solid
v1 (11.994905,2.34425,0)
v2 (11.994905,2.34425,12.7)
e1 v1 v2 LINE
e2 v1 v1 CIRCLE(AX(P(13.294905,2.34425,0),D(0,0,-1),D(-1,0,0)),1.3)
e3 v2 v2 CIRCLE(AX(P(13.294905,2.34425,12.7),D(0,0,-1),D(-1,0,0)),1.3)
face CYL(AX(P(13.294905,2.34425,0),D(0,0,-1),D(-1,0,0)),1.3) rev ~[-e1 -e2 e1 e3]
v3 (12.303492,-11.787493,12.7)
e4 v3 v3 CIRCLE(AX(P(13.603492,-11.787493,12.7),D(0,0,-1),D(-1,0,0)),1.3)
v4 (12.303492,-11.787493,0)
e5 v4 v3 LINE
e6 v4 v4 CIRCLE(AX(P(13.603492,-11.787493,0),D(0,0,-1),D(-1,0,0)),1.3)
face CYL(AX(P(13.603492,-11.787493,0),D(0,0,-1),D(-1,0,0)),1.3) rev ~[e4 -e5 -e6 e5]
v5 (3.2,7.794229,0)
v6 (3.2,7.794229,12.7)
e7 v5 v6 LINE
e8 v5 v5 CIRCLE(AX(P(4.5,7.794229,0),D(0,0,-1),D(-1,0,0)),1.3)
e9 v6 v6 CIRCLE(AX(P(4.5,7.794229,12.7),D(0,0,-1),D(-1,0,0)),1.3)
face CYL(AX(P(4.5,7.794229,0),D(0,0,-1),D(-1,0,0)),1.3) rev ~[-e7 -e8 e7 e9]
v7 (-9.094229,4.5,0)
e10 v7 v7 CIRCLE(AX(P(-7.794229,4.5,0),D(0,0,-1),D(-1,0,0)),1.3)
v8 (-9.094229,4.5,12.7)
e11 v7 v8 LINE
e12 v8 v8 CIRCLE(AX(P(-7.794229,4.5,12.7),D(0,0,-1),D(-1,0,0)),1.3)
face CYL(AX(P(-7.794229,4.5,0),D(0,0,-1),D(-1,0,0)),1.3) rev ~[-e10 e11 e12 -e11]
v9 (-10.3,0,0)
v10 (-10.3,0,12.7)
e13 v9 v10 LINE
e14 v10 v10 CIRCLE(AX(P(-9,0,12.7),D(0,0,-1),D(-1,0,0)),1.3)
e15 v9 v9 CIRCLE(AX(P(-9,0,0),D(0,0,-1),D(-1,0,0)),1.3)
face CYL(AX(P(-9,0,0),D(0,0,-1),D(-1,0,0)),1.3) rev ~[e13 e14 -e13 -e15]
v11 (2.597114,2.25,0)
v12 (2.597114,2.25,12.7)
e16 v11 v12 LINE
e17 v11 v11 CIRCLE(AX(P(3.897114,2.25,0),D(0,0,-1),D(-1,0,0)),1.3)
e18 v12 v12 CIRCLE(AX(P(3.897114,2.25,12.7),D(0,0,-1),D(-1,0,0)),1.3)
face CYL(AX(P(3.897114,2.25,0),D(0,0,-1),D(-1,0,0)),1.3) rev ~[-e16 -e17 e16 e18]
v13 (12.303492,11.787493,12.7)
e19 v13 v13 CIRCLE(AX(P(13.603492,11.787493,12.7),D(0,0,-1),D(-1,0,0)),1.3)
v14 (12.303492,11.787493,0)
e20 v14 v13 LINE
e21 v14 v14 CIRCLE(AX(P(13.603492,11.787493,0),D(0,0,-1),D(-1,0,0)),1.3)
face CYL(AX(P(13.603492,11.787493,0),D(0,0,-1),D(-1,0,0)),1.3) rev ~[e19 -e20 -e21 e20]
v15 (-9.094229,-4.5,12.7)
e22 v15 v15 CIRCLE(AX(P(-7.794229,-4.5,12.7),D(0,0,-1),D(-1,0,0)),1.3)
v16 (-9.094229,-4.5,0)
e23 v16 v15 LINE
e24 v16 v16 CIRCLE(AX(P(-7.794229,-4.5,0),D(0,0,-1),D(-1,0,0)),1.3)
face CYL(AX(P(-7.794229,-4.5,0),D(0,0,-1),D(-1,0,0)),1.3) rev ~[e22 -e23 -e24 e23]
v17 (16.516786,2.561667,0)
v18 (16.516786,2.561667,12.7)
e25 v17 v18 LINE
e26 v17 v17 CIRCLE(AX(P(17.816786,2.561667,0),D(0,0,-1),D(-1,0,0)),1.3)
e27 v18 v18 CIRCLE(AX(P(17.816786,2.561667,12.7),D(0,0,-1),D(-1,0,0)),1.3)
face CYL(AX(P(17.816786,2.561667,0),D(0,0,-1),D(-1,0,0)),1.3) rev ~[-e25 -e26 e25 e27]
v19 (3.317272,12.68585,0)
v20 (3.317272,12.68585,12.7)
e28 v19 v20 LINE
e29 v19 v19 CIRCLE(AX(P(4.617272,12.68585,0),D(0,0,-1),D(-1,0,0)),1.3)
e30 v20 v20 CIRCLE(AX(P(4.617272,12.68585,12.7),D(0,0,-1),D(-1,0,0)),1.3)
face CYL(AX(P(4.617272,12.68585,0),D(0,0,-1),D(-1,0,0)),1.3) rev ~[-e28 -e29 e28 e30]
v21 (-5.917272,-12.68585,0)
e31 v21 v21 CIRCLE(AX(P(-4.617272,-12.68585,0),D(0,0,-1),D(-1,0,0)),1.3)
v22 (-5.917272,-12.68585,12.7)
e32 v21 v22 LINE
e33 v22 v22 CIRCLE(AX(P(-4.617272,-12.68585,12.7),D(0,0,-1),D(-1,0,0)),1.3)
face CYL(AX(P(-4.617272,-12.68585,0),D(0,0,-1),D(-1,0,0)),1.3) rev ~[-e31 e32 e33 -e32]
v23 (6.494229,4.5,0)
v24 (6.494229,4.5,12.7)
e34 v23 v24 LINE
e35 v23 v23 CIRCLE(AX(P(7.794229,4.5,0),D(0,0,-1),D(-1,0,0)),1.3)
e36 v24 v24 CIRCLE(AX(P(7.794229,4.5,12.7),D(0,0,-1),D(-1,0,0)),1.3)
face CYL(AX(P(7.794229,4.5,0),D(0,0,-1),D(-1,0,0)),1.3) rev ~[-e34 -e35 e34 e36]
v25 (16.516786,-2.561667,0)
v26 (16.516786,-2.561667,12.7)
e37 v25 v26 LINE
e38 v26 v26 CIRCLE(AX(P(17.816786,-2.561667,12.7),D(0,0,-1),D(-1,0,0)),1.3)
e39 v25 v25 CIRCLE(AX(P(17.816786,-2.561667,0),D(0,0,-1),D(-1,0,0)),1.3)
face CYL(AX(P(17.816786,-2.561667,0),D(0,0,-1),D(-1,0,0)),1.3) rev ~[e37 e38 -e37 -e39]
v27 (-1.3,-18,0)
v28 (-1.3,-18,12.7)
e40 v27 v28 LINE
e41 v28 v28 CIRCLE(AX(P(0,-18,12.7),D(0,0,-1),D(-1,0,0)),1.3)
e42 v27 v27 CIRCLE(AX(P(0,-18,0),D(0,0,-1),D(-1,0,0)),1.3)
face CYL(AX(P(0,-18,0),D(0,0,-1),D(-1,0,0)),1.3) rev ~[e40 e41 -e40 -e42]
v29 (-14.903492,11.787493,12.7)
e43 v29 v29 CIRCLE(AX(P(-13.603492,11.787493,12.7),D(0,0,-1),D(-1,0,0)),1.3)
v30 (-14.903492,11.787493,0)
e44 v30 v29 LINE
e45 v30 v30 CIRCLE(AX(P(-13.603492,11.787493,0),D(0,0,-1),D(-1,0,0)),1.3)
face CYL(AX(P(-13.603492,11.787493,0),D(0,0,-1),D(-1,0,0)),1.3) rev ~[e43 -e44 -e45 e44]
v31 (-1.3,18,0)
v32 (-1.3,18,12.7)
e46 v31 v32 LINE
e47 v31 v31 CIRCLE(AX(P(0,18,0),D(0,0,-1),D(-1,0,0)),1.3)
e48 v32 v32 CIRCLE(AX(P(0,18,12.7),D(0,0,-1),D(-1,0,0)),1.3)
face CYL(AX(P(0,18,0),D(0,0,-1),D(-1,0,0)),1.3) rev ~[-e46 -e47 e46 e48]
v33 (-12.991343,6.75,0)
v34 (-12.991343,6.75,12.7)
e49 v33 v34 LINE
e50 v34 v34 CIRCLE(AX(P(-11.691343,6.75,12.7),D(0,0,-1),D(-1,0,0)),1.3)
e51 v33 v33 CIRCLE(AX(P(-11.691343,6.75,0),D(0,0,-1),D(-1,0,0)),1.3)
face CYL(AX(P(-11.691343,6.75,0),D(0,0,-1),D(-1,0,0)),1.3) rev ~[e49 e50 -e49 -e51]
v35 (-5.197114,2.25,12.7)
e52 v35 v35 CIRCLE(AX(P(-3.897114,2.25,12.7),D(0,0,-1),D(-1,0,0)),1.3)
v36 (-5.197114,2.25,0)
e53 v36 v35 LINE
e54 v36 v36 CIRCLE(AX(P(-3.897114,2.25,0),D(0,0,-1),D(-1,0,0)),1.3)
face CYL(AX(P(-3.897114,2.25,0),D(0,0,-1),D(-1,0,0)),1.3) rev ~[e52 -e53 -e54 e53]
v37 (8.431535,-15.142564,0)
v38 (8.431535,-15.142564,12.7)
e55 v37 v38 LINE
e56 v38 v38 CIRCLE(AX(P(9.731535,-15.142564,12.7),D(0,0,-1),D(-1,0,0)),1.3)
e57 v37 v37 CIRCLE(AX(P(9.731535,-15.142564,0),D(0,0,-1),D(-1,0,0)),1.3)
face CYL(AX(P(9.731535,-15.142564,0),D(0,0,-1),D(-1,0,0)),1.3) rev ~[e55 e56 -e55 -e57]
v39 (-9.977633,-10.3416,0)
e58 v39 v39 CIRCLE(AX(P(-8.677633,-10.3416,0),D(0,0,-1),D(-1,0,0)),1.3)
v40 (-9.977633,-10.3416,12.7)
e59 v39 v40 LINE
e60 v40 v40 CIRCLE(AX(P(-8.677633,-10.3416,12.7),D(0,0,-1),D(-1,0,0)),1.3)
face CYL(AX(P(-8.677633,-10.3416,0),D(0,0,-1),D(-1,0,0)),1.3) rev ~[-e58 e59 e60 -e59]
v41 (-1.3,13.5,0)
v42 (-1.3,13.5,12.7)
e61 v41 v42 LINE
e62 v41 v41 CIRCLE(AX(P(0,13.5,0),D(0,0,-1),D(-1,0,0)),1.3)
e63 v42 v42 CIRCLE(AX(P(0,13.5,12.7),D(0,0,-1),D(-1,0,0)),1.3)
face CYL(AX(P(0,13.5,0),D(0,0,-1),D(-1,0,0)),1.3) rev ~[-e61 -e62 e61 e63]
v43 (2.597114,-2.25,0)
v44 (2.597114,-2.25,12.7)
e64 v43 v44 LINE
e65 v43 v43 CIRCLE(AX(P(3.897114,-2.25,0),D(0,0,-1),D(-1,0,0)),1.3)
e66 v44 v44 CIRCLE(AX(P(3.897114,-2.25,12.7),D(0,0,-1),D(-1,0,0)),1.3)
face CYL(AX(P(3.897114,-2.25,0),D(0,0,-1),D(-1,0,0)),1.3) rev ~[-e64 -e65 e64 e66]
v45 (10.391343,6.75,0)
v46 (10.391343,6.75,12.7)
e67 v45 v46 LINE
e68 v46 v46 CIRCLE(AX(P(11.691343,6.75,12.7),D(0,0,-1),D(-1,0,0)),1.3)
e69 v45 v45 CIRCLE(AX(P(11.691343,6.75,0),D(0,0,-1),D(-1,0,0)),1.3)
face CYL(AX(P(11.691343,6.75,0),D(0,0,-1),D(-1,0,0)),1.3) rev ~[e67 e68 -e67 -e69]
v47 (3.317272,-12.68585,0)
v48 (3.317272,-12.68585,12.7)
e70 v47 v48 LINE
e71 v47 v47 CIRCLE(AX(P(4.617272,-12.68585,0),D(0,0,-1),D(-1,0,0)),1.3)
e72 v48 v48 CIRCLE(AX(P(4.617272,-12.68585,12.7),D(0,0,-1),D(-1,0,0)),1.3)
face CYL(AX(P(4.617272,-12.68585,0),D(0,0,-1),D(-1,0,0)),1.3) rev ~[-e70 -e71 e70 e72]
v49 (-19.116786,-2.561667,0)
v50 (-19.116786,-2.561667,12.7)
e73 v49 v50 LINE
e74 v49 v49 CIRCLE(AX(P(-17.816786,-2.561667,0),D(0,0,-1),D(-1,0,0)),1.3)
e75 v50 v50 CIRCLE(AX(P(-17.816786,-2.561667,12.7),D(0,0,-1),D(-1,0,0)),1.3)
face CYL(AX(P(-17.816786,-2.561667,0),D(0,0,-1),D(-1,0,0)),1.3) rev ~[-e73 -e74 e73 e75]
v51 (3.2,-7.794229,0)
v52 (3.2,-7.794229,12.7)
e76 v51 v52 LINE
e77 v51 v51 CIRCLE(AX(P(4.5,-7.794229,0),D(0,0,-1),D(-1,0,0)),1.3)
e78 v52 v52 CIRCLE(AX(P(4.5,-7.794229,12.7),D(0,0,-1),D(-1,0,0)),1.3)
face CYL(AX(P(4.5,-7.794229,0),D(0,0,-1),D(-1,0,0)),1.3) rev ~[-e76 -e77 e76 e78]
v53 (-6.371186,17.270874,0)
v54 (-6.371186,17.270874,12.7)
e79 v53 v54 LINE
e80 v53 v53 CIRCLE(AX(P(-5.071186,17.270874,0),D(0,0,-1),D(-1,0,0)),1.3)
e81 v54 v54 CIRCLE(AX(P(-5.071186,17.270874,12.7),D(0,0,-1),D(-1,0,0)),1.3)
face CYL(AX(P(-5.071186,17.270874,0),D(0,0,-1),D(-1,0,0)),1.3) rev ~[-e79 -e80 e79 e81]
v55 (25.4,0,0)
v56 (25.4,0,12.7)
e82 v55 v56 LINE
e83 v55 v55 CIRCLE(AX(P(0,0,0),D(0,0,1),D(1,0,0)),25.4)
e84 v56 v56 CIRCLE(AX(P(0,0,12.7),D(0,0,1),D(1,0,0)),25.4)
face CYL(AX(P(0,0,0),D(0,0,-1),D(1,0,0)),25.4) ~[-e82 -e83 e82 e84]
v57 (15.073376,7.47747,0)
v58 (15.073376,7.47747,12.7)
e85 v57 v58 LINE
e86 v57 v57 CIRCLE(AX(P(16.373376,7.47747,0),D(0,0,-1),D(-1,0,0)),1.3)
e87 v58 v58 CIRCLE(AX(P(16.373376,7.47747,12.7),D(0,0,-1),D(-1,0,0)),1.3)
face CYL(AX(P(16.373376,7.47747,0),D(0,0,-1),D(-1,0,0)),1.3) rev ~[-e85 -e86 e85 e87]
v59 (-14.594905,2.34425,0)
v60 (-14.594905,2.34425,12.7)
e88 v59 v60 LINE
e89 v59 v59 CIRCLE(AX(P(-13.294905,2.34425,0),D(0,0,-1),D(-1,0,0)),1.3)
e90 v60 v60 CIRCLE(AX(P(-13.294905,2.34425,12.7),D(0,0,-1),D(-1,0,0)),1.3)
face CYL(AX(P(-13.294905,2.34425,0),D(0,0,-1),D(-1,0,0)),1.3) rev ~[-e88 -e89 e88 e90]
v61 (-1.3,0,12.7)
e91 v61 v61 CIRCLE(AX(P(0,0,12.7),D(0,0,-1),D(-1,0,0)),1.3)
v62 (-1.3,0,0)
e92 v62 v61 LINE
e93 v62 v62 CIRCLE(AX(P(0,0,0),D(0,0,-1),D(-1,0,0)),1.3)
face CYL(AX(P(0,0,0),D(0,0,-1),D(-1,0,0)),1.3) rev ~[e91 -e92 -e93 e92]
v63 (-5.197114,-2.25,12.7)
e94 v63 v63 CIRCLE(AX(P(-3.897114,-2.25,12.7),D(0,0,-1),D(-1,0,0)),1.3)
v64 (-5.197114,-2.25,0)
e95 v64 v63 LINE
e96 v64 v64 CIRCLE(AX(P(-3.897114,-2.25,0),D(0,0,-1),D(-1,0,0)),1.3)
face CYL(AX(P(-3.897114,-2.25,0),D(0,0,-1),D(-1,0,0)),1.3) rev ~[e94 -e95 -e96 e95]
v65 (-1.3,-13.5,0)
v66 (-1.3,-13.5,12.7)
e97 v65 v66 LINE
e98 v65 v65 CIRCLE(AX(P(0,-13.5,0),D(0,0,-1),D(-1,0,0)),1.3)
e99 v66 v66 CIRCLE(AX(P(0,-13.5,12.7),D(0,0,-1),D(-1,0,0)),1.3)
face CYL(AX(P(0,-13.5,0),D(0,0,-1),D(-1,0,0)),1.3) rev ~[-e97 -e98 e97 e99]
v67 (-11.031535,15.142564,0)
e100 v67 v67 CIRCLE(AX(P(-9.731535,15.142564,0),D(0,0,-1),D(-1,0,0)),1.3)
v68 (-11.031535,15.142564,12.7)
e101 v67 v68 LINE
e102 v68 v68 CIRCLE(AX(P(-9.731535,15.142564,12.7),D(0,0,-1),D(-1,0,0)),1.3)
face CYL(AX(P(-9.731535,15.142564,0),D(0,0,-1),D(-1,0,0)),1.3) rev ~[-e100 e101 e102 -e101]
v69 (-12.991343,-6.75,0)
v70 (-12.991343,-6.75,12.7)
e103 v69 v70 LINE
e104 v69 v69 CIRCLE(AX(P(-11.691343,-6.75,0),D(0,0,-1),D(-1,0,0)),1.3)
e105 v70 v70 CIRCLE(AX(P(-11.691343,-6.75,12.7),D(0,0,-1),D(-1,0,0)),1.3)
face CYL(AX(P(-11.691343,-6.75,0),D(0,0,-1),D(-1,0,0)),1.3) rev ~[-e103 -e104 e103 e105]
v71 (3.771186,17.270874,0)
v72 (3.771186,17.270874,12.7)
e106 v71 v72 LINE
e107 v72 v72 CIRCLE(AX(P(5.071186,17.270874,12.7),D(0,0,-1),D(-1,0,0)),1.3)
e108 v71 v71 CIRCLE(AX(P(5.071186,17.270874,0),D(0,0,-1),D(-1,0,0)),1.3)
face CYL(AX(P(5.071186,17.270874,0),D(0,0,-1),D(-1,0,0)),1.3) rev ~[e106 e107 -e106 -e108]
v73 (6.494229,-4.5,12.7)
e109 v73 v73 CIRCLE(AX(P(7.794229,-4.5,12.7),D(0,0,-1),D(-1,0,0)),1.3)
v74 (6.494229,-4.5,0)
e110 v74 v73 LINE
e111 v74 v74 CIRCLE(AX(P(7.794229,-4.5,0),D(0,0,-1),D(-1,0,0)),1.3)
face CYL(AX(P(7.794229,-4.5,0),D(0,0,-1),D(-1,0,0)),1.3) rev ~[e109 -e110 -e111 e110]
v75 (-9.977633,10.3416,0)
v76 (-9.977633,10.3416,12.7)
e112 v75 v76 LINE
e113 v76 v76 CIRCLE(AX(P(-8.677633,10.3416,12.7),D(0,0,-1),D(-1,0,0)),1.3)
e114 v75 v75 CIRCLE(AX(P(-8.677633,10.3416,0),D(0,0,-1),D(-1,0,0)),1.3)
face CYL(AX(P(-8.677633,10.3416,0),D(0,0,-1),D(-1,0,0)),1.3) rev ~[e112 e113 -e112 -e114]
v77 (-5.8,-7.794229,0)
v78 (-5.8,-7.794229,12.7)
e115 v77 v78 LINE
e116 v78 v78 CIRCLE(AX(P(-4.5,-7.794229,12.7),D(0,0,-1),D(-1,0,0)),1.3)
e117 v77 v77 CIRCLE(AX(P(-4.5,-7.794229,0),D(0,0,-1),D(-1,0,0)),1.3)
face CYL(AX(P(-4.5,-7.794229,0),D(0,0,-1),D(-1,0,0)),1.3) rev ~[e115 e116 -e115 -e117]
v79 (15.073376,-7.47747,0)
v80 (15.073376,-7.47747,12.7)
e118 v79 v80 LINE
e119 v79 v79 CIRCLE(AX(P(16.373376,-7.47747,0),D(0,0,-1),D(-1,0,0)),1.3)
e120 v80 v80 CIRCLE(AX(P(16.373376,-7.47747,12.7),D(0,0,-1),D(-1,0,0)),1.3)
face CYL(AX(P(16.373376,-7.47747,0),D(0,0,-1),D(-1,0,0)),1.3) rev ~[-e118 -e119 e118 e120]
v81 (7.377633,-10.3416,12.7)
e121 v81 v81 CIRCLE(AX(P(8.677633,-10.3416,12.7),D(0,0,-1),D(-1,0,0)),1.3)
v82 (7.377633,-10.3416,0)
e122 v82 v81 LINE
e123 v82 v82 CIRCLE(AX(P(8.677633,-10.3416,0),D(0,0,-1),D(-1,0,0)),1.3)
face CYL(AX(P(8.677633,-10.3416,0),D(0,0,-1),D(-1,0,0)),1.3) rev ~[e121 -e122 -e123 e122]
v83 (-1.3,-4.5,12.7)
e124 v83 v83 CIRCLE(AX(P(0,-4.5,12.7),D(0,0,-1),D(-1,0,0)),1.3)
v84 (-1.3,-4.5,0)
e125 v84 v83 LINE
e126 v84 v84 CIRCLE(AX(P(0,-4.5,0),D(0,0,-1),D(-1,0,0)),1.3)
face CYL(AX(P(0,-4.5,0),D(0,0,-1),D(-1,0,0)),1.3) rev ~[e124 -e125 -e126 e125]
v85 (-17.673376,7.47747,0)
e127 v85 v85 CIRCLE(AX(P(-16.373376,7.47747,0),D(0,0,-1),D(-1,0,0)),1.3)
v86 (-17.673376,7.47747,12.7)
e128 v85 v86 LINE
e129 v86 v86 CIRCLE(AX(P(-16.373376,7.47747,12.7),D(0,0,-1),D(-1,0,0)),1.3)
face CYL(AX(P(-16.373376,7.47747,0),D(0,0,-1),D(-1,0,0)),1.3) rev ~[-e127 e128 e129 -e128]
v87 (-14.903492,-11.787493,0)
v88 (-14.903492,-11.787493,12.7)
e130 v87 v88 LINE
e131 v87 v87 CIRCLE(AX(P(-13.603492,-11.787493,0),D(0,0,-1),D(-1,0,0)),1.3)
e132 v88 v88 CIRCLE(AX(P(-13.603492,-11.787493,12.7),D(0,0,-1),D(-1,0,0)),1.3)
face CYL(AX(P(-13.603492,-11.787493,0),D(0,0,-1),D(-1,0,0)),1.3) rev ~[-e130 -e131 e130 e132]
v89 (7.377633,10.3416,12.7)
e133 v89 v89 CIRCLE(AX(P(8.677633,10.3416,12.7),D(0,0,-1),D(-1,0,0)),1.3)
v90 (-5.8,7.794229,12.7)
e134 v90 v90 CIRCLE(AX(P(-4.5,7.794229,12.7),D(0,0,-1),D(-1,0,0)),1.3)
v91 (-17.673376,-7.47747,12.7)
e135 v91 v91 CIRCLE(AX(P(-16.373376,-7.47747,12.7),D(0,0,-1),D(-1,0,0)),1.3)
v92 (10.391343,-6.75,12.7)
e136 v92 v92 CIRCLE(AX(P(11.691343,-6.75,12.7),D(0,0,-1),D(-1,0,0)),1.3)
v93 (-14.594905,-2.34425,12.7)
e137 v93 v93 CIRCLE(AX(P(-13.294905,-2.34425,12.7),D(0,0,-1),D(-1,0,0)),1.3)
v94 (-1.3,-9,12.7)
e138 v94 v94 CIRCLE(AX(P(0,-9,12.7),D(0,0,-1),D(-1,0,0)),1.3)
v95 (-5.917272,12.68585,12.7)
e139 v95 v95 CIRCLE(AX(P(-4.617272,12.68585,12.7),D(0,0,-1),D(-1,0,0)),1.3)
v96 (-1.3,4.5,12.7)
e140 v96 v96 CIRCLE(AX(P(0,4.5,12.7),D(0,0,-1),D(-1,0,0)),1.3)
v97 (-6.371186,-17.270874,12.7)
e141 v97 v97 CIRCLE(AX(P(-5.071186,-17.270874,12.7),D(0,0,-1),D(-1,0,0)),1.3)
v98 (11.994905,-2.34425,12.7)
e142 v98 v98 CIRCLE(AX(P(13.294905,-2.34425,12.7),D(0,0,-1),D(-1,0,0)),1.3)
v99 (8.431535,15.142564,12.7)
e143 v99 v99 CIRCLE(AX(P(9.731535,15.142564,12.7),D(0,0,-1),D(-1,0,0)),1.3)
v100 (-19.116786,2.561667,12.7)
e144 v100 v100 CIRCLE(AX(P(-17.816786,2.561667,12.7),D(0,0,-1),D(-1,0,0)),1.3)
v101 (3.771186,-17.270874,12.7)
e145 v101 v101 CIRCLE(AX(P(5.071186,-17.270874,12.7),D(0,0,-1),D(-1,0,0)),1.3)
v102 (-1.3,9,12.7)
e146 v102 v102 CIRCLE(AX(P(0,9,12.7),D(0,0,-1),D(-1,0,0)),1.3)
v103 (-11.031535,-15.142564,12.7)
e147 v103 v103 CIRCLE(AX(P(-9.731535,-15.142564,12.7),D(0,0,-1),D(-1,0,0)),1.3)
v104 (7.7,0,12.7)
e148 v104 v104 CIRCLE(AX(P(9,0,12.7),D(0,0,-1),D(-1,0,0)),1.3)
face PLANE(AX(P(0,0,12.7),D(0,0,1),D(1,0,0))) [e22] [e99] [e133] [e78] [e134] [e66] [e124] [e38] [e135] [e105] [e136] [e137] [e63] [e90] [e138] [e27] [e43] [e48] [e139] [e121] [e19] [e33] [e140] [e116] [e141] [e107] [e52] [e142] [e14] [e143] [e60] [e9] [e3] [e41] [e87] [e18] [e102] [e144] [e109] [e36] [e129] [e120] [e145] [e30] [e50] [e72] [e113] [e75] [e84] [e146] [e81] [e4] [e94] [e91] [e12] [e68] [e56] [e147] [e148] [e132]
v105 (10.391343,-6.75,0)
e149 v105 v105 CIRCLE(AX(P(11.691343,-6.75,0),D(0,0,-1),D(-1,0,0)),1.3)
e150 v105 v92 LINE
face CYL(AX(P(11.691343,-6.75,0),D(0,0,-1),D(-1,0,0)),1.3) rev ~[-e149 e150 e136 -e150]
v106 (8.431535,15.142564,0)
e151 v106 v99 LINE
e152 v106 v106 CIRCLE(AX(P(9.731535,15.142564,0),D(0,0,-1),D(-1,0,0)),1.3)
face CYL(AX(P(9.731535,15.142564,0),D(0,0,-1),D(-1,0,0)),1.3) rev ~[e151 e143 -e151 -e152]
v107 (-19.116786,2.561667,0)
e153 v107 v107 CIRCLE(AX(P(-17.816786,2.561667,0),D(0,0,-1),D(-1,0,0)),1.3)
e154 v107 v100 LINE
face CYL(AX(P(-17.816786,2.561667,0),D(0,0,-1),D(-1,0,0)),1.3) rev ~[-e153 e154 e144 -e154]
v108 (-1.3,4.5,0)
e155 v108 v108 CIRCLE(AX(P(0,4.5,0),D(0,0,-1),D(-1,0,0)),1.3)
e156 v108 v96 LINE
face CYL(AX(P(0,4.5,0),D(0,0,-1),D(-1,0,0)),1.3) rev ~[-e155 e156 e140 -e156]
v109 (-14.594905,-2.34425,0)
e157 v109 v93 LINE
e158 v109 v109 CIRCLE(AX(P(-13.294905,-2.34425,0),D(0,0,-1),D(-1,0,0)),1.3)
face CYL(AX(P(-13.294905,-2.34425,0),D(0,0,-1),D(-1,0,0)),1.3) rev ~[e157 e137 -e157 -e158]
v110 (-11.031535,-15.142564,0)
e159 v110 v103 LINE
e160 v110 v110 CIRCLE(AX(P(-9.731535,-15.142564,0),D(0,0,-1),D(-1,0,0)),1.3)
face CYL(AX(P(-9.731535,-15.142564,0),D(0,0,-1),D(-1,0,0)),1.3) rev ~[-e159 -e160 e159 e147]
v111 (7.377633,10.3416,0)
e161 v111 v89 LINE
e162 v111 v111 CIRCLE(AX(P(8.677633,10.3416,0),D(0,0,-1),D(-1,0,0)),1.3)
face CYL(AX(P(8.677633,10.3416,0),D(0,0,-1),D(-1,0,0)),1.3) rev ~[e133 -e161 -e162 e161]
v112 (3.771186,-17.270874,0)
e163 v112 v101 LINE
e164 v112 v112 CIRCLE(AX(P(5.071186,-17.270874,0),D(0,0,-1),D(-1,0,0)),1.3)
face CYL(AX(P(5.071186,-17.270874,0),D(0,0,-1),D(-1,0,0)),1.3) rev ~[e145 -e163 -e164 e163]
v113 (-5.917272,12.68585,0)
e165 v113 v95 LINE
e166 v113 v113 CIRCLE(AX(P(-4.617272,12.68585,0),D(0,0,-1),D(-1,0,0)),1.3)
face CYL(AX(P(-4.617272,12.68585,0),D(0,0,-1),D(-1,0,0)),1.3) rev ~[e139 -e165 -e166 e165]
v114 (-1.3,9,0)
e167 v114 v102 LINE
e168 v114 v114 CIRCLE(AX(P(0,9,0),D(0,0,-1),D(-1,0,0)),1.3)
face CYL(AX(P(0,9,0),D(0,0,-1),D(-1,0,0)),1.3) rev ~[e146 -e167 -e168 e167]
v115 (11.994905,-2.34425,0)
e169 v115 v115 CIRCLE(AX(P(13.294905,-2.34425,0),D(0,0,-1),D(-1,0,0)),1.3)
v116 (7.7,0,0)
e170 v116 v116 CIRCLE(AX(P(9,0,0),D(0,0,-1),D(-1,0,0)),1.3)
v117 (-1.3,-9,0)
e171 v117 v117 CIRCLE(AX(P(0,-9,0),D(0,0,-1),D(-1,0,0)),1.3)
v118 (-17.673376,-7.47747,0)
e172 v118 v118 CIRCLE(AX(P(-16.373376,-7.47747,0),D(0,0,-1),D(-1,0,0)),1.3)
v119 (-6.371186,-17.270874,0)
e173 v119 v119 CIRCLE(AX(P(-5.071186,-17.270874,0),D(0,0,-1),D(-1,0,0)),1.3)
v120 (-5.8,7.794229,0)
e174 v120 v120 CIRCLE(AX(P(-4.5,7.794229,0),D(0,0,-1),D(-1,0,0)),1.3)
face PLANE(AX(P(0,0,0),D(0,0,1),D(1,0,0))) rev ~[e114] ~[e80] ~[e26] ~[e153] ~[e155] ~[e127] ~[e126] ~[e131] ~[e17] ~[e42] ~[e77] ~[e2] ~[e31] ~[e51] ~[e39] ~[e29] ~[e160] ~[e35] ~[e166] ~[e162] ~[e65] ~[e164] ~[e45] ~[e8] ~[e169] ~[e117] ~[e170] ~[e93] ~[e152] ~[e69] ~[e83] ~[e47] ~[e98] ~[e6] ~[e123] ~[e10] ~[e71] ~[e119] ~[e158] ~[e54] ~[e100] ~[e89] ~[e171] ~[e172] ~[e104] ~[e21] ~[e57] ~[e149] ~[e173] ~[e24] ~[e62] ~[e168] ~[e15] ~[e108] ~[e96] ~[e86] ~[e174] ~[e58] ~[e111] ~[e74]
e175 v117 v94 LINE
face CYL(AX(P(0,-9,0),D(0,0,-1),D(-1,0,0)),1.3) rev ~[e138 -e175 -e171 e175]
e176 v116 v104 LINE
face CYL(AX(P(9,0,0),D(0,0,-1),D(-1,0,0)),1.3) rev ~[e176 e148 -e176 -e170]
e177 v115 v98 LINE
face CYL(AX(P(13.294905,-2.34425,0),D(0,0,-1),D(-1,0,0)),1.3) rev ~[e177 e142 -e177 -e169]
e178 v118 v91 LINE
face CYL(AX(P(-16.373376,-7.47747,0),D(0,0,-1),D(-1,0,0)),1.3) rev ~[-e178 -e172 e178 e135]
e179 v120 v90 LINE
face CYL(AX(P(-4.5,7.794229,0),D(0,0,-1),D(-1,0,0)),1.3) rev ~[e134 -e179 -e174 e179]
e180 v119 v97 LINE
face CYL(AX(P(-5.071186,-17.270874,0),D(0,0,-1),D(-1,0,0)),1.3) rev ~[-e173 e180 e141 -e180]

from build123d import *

# Parameters (mm, degrees)
ESQUISSE1_R             = 25.4
BOSS_EXTRU_1_DEPTH      = 12.7
ESQUISSE2_R             = 1.3
ENL_V_MAT_EXTRU_1_DEPTH = 12.7


with BuildPart() as part:
    # Esquisse1 → Boss.-Extru.1 (new body)
    with BuildSketch(Plane.XY):
        Circle(ESQUISSE1_R)
    extrude(amount=BOSS_EXTRU_1_DEPTH)

    # Esquisse2 → Enlèv. mat.-Extru.1 (cut)
    with BuildSketch(Plane(origin=(0, 0, 0), x_dir=(-1, 0, 0), z_dir=(0, 0, -1))):
        Circle(ESQUISSE2_R)
        with Locations((0, 4.5)):
            Circle(ESQUISSE2_R)
        with Locations((0, 9)):
            Circle(ESQUISSE2_R)
        with Locations((0, 13.5)):
            Circle(ESQUISSE2_R)
        with Locations((0, 18)):
            Circle(ESQUISSE2_R)
        with Locations((3.897114317, 2.25)):
            Circle(ESQUISSE2_R)
        with Locations((3.897114317, -2.25)):
            Circle(ESQUISSE2_R)
        with Locations((0, -4.5)):
            Circle(ESQUISSE2_R)
        with Locations((-3.897114317, -2.25)):
            Circle(ESQUISSE2_R)
        with Locations((-3.897114317, 2.25)):
            Circle(ESQUISSE2_R)
        with Locations((4.5, 7.794228634)):
            Circle(ESQUISSE2_R)
        with Locations((7.794228634, 4.5)):
            Circle(ESQUISSE2_R)
        with Locations((9, 0)):
            Circle(ESQUISSE2_R)
        with Locations((7.794228634, -4.5)):
            Circle(ESQUISSE2_R)
        with Locations((4.5, -7.794228634)):
            Circle(ESQUISSE2_R)
        with Locations((0, -9)):
            Circle(ESQUISSE2_R)
        with Locations((-4.5, -7.794228634)):
            Circle(ESQUISSE2_R)
        with Locations((-7.794228634, -4.5)):
            Circle(ESQUISSE2_R)
        with Locations((-9, 0)):
            Circle(ESQUISSE2_R)
        with Locations((-7.794228634, 4.5)):
            Circle(ESQUISSE2_R)
        with Locations((-4.5, 7.794228634)):
            Circle(ESQUISSE2_R)
        with Locations((4.617271935, 12.685850381)):
            Circle(ESQUISSE2_R)
        with Locations((8.677632731, 10.341599982)):
            Circle(ESQUISSE2_R)
        with Locations((11.691342951, 6.75)):
            Circle(ESQUISSE2_R)
        with Locations((13.294904666, 2.344250399)):
            Circle(ESQUISSE2_R)
        with Locations((13.294904666, -2.344250399)):
            Circle(ESQUISSE2_R)
        with Locations((11.691342951, -6.75)):
            Circle(ESQUISSE2_R)
        with Locations((8.677632731, -10.341599982)):
            Circle(ESQUISSE2_R)
        with Locations((4.617271935, -12.685850381)):
            Circle(ESQUISSE2_R)
        with Locations((0, -13.5)):
            Circle(ESQUISSE2_R)
        with Locations((-4.617271935, -12.685850381)):
            Circle(ESQUISSE2_R)
        with Locations((-8.677632731, -10.341599982)):
            Circle(ESQUISSE2_R)
        with Locations((-11.691342951, -6.75)):
            Circle(ESQUISSE2_R)
        with Locations((-13.294904666, -2.344250399)):
            Circle(ESQUISSE2_R)
        with Locations((-13.294904666, 2.344250399)):
            Circle(ESQUISSE2_R)
        with Locations((-11.691342951, 6.75)):
            Circle(ESQUISSE2_R)
        with Locations((-8.677632731, 10.341599982)):
            Circle(ESQUISSE2_R)
        with Locations((-4.617271935, 12.685850381)):
            Circle(ESQUISSE2_R)
        with Locations((5.071186023, 17.270873525)):
            Circle(ESQUISSE2_R)
        with Locations((9.731534714, 15.142563591)):
            Circle(ESQUISSE2_R)
        with Locations((13.603492338, 11.787493211)):
            Circle(ESQUISSE2_R)
        with Locations((16.373375916, 7.477470234)):
            Circle(ESQUISSE2_R)
        with Locations((17.816785954, 2.561667089)):
            Circle(ESQUISSE2_R)
        with Locations((17.816785954, -2.561667089)):
            Circle(ESQUISSE2_R)
        with Locations((16.373375916, -7.477470234)):
            Circle(ESQUISSE2_R)
        with Locations((13.603492338, -11.787493211)):
            Circle(ESQUISSE2_R)
        with Locations((9.731534714, -15.142563591)):
            Circle(ESQUISSE2_R)
        with Locations((5.071186023, -17.270873525)):
            Circle(ESQUISSE2_R)
        with Locations((0, -18)):
            Circle(ESQUISSE2_R)
        with Locations((-5.071186023, -17.270873525)):
            Circle(ESQUISSE2_R)
        with Locations((-9.731534714, -15.142563591)):
            Circle(ESQUISSE2_R)
        with Locations((-13.603492338, -11.787493211)):
            Circle(ESQUISSE2_R)
        with Locations((-16.373375916, -7.477470234)):
            Circle(ESQUISSE2_R)
        with Locations((-17.816785954, -2.561667089)):
            Circle(ESQUISSE2_R)
        with Locations((-17.816785954, 2.561667089)):
            Circle(ESQUISSE2_R)
        with Locations((-16.373375916, 7.477470234)):
            Circle(ESQUISSE2_R)
        with Locations((-13.603492338, 11.787493211)):
            Circle(ESQUISSE2_R)
        with Locations((-9.731534714, 15.142563591)):
            Circle(ESQUISSE2_R)
        with Locations((-5.071186023, 17.270873525)):
            Circle(ESQUISSE2_R)
    extrude(amount=-ENL_V_MAT_EXTRU_1_DEPTH, mode=Mode.SUBTRACT)


solid = part.part
